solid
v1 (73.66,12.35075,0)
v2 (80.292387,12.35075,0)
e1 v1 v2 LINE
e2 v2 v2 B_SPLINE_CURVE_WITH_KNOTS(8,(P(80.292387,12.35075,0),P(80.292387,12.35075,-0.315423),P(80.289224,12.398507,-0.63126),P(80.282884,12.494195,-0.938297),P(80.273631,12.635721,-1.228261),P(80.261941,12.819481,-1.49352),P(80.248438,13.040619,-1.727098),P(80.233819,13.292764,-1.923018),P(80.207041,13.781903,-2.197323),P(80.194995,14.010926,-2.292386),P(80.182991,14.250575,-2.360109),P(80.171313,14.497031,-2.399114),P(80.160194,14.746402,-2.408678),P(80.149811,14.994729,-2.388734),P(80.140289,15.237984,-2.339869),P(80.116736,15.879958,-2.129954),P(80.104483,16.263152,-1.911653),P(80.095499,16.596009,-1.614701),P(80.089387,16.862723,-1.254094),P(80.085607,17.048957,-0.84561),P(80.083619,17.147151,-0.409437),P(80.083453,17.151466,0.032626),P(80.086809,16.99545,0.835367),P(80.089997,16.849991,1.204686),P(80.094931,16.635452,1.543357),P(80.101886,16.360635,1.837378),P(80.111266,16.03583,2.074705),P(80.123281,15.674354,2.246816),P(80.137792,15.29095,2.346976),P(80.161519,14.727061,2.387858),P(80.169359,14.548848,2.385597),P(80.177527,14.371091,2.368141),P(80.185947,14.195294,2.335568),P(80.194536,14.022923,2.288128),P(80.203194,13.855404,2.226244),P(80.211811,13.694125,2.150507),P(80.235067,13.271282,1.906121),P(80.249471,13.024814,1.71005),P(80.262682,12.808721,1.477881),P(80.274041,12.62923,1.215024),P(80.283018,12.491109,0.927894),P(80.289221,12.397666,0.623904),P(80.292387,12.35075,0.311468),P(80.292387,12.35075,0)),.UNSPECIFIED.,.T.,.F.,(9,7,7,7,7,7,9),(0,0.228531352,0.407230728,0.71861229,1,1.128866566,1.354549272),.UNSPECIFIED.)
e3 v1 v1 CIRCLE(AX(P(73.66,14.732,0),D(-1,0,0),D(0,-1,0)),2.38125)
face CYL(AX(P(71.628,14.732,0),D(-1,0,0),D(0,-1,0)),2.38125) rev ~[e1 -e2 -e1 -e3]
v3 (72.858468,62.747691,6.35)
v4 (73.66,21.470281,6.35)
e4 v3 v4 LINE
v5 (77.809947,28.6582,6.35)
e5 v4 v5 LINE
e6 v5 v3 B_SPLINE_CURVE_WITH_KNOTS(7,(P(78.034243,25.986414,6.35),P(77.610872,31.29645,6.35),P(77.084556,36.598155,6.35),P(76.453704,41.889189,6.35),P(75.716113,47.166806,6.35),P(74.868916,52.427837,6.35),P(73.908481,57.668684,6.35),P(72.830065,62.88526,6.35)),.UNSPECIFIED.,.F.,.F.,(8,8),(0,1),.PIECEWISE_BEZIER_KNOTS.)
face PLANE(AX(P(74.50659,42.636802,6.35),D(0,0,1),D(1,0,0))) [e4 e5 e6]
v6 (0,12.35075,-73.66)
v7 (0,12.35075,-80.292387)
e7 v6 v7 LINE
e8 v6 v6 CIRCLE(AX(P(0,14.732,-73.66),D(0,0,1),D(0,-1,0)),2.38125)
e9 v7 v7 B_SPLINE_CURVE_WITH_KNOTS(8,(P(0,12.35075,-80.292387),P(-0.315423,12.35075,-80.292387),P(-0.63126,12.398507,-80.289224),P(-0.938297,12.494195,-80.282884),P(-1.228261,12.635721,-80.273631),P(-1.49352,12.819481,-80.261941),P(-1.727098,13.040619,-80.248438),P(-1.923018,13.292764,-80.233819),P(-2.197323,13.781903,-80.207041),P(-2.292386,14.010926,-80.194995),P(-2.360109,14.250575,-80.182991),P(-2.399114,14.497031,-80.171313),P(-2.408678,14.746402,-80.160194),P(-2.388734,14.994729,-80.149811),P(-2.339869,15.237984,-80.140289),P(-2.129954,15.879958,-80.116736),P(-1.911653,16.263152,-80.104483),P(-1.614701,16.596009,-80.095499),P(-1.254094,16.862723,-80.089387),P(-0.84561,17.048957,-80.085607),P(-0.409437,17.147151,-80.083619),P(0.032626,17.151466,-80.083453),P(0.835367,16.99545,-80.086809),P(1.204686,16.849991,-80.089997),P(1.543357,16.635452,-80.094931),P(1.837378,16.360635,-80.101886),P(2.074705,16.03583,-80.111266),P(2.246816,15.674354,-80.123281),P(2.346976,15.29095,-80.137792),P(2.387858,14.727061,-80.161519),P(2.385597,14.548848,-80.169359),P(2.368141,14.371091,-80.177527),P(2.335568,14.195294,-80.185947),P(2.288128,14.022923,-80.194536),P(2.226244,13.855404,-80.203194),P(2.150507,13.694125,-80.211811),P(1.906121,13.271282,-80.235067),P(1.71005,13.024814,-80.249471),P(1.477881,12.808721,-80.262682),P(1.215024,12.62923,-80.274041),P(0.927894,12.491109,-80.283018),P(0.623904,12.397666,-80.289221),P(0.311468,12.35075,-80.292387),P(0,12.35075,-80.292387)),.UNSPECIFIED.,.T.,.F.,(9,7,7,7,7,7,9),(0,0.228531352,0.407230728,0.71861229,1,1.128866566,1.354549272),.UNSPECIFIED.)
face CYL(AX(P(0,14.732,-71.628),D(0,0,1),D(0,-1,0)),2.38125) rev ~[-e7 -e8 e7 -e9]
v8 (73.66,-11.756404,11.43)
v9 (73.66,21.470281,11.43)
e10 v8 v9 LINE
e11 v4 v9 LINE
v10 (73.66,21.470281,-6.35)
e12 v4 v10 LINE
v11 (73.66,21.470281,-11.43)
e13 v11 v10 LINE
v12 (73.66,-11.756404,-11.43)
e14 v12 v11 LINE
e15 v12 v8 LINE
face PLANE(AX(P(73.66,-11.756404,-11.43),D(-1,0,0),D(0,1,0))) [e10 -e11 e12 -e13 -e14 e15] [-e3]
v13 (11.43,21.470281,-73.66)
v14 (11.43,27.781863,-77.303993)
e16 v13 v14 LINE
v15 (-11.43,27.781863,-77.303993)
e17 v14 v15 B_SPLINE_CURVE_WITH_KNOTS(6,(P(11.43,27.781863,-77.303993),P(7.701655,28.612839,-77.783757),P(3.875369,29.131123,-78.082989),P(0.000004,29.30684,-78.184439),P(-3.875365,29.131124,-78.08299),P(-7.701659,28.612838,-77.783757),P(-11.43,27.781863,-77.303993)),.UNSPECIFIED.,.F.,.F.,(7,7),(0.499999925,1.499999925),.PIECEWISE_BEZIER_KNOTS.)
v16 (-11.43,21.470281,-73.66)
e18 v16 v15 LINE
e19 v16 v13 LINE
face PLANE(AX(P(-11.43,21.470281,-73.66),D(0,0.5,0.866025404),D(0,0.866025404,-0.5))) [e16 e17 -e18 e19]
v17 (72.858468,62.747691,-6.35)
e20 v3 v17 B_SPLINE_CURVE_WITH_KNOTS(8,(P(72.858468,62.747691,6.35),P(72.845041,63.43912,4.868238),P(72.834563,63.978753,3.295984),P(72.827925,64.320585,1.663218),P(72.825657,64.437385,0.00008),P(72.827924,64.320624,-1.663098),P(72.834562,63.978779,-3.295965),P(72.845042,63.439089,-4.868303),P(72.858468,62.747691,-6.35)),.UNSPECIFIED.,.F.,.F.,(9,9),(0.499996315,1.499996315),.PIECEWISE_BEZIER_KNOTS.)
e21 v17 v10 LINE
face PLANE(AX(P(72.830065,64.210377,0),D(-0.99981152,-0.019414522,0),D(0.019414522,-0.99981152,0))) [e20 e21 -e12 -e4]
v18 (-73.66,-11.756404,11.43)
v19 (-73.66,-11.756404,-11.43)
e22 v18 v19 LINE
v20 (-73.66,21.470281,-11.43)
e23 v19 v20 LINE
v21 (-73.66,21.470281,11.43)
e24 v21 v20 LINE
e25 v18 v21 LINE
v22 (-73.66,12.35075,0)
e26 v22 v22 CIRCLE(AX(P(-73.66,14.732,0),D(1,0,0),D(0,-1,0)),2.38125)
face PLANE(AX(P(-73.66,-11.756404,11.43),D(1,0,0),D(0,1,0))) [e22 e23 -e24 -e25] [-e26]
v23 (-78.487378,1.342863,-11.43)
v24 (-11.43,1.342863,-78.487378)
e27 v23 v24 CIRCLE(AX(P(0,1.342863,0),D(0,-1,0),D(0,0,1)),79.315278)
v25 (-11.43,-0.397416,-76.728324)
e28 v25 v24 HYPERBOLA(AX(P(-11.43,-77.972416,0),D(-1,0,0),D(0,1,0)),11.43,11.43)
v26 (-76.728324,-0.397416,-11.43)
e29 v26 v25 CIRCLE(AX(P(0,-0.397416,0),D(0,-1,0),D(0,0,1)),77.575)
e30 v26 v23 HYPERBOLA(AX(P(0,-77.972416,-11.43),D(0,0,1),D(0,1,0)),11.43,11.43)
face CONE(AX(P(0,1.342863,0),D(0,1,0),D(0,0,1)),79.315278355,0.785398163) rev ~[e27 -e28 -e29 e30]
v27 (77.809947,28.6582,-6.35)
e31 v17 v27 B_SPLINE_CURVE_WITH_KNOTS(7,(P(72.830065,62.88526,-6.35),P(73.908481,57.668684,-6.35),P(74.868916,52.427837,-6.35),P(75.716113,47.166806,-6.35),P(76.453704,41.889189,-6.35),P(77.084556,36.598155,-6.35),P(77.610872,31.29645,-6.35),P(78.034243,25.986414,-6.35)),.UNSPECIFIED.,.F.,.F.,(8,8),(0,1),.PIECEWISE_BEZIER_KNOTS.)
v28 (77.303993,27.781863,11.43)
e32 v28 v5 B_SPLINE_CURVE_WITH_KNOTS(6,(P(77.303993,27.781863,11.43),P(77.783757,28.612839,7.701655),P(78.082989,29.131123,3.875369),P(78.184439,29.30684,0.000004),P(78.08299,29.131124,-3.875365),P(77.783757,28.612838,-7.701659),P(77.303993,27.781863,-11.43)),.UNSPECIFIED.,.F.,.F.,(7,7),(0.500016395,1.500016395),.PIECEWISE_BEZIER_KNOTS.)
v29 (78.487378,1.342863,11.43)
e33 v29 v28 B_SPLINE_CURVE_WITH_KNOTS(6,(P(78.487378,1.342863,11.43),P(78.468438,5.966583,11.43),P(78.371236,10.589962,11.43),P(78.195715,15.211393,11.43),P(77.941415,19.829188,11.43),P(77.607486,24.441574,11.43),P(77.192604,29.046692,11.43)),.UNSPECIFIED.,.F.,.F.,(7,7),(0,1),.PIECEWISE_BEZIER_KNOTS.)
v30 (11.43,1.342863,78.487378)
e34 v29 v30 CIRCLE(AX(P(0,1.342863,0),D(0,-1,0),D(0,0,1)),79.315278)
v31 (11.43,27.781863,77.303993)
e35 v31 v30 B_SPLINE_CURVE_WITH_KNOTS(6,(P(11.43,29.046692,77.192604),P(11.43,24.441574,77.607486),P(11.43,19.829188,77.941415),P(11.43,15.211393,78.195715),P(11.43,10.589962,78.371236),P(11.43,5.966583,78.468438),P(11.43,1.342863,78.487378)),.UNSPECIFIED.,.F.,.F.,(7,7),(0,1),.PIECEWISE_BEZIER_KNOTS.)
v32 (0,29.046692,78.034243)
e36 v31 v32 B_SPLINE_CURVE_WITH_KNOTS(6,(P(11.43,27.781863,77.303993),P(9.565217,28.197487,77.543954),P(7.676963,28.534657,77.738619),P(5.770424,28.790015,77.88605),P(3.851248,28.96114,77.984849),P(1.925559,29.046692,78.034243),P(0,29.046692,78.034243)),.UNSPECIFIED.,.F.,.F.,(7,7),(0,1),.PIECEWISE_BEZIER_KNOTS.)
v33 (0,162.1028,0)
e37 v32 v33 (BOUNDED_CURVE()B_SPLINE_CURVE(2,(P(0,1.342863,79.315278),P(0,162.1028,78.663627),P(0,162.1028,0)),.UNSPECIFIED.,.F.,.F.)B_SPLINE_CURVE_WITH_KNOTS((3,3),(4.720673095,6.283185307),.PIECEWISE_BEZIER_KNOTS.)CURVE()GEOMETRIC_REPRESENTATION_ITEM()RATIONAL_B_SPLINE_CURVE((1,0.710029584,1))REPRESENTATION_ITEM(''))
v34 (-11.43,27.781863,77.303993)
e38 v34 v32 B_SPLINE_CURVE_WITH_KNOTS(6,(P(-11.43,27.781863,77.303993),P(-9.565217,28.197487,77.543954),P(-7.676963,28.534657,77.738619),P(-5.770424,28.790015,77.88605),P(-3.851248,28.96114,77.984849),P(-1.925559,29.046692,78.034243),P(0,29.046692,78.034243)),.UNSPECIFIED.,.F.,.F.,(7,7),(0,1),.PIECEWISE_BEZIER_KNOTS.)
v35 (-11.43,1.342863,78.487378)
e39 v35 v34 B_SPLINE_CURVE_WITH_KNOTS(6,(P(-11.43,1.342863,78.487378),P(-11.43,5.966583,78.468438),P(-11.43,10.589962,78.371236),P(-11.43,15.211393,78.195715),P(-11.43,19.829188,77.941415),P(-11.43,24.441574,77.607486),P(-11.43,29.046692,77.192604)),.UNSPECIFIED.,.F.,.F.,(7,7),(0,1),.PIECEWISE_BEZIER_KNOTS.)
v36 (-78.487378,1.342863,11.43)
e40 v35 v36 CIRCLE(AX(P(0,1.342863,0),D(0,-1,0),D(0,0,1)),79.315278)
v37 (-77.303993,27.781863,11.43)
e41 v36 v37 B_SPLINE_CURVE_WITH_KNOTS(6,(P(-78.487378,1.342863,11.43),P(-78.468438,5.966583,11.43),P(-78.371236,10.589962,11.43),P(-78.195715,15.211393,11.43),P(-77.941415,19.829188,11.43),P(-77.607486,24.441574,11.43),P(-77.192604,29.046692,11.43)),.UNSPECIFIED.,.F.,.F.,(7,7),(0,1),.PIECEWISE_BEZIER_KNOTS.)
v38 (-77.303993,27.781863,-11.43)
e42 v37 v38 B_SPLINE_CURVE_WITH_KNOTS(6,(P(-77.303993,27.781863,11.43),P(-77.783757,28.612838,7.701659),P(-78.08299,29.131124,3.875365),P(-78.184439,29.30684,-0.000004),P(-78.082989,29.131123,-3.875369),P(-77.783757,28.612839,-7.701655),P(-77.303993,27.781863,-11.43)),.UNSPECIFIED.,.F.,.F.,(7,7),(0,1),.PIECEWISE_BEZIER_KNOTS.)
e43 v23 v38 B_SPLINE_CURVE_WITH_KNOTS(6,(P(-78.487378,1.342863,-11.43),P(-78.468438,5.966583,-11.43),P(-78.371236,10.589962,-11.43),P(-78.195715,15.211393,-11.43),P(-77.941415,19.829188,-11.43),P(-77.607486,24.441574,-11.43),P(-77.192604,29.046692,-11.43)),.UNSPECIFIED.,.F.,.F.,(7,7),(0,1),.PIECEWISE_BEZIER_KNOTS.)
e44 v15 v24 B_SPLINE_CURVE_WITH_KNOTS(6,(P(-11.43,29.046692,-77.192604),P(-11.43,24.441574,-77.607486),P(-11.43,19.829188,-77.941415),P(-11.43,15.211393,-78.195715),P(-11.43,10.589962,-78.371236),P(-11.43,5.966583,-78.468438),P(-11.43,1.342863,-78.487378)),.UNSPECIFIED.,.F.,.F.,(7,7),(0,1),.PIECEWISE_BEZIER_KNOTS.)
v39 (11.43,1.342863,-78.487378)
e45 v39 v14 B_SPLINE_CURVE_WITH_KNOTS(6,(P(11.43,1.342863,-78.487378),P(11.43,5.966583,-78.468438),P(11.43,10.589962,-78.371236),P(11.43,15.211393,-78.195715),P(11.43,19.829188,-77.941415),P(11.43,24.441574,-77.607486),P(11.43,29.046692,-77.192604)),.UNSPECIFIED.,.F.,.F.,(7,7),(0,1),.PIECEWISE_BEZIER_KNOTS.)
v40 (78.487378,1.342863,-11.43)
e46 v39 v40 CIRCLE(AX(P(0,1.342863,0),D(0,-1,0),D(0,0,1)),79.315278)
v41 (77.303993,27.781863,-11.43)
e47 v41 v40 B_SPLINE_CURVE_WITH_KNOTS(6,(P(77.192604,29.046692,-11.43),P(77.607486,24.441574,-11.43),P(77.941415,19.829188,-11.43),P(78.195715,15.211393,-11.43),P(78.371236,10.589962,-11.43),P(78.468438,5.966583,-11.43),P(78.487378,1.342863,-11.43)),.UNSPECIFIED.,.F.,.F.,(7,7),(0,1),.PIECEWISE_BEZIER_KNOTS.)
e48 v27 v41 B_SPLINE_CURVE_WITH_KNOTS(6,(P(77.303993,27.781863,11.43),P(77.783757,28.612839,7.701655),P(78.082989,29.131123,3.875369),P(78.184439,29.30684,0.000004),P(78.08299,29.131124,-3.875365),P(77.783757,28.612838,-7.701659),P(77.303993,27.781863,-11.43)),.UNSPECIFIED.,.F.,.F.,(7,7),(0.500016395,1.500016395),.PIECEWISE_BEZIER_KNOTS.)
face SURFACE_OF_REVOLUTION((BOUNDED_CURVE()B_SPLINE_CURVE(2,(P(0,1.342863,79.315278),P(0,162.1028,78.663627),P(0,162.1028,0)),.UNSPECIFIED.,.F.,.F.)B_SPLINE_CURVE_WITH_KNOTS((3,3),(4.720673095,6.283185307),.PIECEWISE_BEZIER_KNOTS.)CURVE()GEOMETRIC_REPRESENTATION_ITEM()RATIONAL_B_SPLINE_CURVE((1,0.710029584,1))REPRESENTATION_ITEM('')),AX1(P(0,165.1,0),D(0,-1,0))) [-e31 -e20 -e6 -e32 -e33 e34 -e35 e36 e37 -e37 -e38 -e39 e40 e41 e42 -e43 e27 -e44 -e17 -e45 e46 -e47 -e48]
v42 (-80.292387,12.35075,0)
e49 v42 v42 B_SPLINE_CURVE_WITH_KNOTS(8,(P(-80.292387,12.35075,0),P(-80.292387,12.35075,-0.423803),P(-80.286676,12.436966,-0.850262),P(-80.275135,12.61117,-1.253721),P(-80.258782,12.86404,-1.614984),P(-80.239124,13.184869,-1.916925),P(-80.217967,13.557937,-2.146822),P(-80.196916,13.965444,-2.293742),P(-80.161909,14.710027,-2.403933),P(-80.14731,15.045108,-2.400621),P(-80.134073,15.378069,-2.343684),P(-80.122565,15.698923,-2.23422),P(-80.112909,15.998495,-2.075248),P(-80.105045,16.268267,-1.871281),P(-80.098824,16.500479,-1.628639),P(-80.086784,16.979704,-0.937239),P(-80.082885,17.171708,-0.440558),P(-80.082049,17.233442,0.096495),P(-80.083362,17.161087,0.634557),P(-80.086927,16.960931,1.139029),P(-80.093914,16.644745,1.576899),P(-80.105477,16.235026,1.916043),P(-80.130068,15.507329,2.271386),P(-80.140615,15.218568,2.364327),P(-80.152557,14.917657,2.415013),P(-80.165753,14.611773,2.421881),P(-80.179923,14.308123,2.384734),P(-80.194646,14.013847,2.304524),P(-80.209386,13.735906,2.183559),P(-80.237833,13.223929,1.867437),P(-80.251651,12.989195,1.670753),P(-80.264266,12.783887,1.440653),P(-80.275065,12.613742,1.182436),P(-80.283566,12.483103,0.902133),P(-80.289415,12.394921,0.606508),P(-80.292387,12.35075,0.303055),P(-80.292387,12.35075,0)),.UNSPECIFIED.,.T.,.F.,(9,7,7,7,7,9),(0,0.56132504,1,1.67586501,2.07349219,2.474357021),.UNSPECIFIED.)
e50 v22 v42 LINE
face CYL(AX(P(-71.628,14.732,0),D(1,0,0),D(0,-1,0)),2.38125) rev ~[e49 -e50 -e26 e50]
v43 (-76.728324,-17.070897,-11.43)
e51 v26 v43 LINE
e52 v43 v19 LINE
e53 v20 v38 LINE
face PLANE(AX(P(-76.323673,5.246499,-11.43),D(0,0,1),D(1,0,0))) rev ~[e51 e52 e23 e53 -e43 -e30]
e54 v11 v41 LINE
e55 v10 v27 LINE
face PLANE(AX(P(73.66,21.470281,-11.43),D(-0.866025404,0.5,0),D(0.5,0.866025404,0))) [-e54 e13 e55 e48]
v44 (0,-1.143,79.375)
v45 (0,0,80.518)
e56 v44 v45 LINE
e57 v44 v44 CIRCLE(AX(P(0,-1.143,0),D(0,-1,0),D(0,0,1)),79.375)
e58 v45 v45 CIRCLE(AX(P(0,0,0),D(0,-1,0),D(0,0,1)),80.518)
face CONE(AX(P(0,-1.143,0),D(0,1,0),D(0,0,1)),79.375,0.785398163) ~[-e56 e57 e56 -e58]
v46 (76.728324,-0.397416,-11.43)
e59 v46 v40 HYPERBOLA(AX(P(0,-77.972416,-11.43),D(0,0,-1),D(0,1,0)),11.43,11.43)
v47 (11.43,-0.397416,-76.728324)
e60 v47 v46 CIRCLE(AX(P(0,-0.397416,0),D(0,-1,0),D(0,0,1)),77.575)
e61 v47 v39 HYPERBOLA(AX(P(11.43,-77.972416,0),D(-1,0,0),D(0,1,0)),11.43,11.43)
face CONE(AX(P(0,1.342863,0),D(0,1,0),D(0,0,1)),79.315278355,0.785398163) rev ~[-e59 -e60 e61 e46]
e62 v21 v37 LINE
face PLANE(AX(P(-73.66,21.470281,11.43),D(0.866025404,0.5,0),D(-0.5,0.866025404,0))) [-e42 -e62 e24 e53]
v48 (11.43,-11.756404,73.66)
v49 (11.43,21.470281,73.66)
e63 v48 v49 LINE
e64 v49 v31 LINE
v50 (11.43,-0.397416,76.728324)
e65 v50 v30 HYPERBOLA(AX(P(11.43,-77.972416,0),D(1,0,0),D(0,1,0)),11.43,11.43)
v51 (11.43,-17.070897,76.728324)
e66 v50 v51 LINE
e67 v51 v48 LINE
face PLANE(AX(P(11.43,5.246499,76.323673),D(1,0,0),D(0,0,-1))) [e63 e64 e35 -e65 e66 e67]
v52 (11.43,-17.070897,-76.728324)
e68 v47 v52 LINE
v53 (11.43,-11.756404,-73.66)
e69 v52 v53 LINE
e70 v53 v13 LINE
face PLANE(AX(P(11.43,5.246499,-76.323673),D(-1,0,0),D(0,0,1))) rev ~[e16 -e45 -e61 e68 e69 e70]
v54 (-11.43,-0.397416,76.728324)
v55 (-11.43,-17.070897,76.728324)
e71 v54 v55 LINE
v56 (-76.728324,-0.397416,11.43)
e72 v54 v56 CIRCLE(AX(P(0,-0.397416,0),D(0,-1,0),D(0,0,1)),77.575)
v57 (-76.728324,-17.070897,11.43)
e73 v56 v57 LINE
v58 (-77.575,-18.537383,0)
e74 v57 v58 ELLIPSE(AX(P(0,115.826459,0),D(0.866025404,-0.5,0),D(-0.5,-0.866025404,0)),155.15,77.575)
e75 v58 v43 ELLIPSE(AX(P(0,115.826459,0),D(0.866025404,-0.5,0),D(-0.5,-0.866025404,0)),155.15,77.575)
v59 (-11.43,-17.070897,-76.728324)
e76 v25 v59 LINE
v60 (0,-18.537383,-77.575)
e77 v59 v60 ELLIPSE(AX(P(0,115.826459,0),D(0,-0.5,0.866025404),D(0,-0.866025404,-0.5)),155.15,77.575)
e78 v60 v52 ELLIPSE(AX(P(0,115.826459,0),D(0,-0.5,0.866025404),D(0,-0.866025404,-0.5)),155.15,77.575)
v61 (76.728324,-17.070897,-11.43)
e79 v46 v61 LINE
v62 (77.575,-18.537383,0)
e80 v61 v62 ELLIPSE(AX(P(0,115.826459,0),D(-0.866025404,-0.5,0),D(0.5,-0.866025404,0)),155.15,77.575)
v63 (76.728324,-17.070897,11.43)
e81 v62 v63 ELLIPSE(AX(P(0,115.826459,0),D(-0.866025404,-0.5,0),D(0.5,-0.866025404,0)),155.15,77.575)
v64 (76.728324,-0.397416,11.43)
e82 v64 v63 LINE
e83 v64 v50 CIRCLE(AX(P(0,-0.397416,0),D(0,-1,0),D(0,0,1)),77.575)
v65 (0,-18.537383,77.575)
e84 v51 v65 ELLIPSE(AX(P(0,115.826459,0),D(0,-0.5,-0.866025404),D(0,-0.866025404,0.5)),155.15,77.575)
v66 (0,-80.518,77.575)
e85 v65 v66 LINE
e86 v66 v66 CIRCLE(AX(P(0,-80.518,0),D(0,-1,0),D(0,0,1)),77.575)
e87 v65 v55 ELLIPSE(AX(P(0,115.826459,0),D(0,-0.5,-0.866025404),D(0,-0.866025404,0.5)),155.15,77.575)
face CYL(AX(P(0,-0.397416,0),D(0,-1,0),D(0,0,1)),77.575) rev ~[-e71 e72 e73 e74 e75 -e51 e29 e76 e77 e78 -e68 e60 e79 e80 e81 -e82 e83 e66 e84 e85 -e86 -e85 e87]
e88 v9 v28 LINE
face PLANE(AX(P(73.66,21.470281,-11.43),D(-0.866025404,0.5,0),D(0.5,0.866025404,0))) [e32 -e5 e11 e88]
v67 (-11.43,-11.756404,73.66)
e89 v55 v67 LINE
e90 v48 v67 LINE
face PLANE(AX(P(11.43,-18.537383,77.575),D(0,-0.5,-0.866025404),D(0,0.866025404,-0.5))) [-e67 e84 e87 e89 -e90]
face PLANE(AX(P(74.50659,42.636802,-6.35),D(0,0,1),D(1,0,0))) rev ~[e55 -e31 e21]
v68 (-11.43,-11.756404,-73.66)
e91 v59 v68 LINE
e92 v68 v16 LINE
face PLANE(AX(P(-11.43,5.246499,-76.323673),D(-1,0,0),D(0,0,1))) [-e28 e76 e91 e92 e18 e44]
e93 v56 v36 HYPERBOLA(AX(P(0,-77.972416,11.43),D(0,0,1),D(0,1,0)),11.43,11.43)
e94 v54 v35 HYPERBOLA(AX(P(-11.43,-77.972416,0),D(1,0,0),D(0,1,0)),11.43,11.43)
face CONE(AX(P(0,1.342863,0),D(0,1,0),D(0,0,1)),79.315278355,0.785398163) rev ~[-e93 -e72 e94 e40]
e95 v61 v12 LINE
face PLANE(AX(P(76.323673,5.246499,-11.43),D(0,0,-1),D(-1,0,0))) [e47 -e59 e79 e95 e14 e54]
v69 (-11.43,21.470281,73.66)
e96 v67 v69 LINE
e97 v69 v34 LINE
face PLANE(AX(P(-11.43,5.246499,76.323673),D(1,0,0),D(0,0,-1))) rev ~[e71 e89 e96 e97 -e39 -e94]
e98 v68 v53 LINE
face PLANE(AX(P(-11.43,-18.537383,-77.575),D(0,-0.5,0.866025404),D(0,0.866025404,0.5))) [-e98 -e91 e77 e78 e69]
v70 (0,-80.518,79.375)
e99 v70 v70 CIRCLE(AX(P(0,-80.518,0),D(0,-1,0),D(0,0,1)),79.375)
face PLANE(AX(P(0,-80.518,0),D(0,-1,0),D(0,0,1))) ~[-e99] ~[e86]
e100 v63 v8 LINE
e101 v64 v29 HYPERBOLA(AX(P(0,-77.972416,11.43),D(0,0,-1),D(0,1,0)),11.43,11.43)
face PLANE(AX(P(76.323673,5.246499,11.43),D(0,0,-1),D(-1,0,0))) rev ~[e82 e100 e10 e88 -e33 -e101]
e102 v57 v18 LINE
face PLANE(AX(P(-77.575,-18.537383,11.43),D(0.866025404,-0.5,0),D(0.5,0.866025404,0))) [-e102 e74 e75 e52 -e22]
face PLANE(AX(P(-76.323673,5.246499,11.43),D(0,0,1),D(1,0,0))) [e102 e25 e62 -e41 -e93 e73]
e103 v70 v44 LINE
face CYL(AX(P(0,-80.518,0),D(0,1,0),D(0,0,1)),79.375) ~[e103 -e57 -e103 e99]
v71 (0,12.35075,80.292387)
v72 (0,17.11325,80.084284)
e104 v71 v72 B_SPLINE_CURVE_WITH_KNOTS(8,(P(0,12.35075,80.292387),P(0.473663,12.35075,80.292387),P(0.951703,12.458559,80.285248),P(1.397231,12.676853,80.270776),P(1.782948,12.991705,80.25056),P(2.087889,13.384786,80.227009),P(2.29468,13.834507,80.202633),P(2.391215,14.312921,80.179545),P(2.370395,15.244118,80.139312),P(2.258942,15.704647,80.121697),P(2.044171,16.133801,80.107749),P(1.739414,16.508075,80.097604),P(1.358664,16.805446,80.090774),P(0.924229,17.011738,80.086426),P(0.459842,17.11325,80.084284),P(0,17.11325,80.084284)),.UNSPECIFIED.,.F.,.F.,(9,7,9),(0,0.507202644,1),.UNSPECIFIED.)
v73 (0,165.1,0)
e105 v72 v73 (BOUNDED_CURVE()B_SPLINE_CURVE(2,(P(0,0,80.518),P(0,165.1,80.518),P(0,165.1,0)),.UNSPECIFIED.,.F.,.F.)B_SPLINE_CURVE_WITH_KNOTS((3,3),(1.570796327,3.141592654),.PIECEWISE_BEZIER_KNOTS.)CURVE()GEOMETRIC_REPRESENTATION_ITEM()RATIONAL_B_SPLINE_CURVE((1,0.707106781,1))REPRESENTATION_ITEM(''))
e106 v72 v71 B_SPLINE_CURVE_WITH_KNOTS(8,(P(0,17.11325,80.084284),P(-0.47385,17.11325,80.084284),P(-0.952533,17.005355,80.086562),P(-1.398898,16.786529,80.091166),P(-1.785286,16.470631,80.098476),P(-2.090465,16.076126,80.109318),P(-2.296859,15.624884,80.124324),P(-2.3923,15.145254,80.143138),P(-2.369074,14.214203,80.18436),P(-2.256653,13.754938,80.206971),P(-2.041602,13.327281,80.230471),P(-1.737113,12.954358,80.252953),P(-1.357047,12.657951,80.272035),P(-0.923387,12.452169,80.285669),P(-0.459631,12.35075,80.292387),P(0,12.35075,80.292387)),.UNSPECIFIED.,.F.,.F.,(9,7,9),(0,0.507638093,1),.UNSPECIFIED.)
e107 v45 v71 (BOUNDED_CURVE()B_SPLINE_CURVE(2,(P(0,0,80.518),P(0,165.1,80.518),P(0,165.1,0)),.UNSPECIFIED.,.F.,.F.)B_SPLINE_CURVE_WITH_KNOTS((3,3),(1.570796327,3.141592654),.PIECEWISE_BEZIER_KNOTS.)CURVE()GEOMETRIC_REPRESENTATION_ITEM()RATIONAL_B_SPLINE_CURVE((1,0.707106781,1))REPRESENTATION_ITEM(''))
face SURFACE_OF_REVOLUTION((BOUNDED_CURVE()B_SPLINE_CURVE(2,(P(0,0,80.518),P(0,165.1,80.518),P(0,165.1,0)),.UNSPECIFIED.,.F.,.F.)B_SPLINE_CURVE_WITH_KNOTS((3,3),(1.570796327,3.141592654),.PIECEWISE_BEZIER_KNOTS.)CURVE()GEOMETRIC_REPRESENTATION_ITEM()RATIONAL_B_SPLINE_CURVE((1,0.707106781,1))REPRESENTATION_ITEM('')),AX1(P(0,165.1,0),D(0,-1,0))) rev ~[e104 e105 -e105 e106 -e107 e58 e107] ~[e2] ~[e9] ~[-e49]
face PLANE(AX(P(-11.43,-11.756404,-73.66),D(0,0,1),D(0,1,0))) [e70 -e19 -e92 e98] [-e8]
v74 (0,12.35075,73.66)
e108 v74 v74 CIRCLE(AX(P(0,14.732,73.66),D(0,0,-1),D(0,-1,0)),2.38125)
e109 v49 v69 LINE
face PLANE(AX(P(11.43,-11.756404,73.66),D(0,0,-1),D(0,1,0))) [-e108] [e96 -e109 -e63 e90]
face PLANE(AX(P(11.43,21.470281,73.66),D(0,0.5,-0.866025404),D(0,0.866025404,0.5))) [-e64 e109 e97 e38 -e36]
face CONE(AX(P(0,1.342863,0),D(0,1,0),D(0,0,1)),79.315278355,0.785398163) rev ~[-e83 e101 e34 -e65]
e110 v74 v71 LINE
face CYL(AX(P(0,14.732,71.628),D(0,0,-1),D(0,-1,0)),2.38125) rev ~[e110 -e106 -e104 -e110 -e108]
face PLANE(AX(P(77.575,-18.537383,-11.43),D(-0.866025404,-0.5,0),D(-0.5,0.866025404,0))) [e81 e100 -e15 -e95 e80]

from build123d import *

# Parameters (mm, degrees)
BOSS_EXTRUDE1_START = -11.43
BOSS_EXTRUDE1_DEPTH = 22.86
SKETCH3_R           = 2.38125
CUT_EXTRUDE1_DEPTH  = 239.515332253
CIRPATTERN1_COUNT   = 4
BOSS_EXTRUDE2_DEPTH = 6.35


with BuildPart() as part:
    # Sketch1 → Revolve1 (revolve)
    with BuildSketch(Plane.XY, mode=Mode.PRIVATE) as revolve1_sk:
        with BuildLine():
            Line((0, 165.1), (0, 162.1028))
            add(Edge.make_bspline(
                [(79.315278355, 1.342862767), (78.663627327, 162.1028), (0, 162.1028)],
                knots=[4.720673095, 4.720673095, 4.720673095, 6.283185307, 6.283185307, 6.283185307], degree=2, weights=[1, 0.710029584, 1]))
            Line((79.315278355, 1.342862767), (77.575, -0.397415588))
            Line((77.575, -0.397415588), (77.575, -80.518))
            Line((77.575, -80.518), (79.375, -80.518))
            Line((79.375, -80.518), (79.375, -1.143))
            Line((79.375, -1.143), (80.518, 0))
            add(Edge.make_bspline(
                [(80.518, 0), (80.518, 165.1), (0, 165.1)],
                knots=[1.570796327, 1.570796327, 1.570796327, 3.141592654, 3.141592654, 3.141592654], degree=2, weights=[1, 0.707106781, 1]))
        make_face()
    revolve(revolve1_sk.sketch.rotate(Axis((0, 165.1, 0), (0, -1, 0)), 90), axis=Axis((0, 165.1, 0), (0, -1, 0)))

    # Sketch6 → Boss-Extrude1 (add)
    with BuildSketch(Plane.XY.offset(BOSS_EXTRUDE1_START)):
        with BuildLine():
            Line((73.66, 21.470281301), (78.034242777, 29.046692038))
            add(Edge.make_bspline(
                [(79.062314745, 13.005354783), (78.744364926, 21.078512305), (78.034242777, 29.046692038)],
                knots=[4.792704356, 4.792704356, 4.792704356, 4.892548854, 4.892548854, 4.892548854], degree=2, weights=[1, 0.998754143, 1]))
            add(Edge.make_bspline(
                [(79.315278355, 1.342862767), (79.29160326, 7.183422549), (79.062314745, 13.005354783)],
                knots=[4.720673095, 4.720673095, 4.720673095, 4.792704356, 4.792704356, 4.792704356], degree=2, weights=[1, 0.999351507, 1]))
            Line((79.315278355, 1.342862767), (77.575, -0.397415588))
            Line((77.575, -0.397415588), (77.575, -18.537382644))
            Line((77.575, -18.537382644), (73.66, -11.756403732))
            Line((73.66, -11.756403732), (73.66, 17.13351746))
            Line((73.66, 17.13351746), (73.66, 21.470281301))
        make_face()
    boss_extrude1 = extrude(amount=BOSS_EXTRUDE1_DEPTH)

    # Sketch3 → Cut-Extrude1 (cut, through all)
    with BuildSketch(Plane.ZY.offset(-71.628)):
        with Locations(Location((0, 14.732, 0), (0, 0, 270))):
            Circle(SKETCH3_R)
    cut_extrude1 = extrude(amount=-CUT_EXTRUDE1_DEPTH, mode=Mode.SUBTRACT)

    # CirPattern1: Boss-Extrude1, Cut-Extrude1 ×4 about axis
    cirpattern1_axis = Axis((0, 0, 0), (0, 1, 0))
    add([boss_extrude1.rotate(cirpattern1_axis, i * 360 / CIRPATTERN1_COUNT) for i in range(1, CIRPATTERN1_COUNT)])
    add([cut_extrude1.rotate(cirpattern1_axis, i * 360 / CIRPATTERN1_COUNT) for i in range(1, CIRPATTERN1_COUNT)], mode=Mode.SUBTRACT)

    # Sketch7 → Boss-Extrude2 (add, symmetric)
    with BuildSketch(Plane(origin=(0, -74.168, 0), x_dir=(1, 0, 0), z_dir=(0, 0, 1))):
        with BuildLine():
            Line((73.66, 95.638281301), (78.034242777, 103.214692038))
            add(Edge.make_bspline(
                [(78.034242777, 103.214692038), (76.413302416, 121.403033529), (72.830065055, 138.378377261)],
                knots=[1.750956201, 1.750956201, 1.750956201, 1.978071652, 1.978071652, 1.978071652], degree=2, weights=[1, 0.993559247, 1]))
            Line((72.830065055, 138.378377261), (73.66, 95.638281301))
        make_face()
    extrude(amount=BOSS_EXTRUDE2_DEPTH, both=True)


solid = part.part
